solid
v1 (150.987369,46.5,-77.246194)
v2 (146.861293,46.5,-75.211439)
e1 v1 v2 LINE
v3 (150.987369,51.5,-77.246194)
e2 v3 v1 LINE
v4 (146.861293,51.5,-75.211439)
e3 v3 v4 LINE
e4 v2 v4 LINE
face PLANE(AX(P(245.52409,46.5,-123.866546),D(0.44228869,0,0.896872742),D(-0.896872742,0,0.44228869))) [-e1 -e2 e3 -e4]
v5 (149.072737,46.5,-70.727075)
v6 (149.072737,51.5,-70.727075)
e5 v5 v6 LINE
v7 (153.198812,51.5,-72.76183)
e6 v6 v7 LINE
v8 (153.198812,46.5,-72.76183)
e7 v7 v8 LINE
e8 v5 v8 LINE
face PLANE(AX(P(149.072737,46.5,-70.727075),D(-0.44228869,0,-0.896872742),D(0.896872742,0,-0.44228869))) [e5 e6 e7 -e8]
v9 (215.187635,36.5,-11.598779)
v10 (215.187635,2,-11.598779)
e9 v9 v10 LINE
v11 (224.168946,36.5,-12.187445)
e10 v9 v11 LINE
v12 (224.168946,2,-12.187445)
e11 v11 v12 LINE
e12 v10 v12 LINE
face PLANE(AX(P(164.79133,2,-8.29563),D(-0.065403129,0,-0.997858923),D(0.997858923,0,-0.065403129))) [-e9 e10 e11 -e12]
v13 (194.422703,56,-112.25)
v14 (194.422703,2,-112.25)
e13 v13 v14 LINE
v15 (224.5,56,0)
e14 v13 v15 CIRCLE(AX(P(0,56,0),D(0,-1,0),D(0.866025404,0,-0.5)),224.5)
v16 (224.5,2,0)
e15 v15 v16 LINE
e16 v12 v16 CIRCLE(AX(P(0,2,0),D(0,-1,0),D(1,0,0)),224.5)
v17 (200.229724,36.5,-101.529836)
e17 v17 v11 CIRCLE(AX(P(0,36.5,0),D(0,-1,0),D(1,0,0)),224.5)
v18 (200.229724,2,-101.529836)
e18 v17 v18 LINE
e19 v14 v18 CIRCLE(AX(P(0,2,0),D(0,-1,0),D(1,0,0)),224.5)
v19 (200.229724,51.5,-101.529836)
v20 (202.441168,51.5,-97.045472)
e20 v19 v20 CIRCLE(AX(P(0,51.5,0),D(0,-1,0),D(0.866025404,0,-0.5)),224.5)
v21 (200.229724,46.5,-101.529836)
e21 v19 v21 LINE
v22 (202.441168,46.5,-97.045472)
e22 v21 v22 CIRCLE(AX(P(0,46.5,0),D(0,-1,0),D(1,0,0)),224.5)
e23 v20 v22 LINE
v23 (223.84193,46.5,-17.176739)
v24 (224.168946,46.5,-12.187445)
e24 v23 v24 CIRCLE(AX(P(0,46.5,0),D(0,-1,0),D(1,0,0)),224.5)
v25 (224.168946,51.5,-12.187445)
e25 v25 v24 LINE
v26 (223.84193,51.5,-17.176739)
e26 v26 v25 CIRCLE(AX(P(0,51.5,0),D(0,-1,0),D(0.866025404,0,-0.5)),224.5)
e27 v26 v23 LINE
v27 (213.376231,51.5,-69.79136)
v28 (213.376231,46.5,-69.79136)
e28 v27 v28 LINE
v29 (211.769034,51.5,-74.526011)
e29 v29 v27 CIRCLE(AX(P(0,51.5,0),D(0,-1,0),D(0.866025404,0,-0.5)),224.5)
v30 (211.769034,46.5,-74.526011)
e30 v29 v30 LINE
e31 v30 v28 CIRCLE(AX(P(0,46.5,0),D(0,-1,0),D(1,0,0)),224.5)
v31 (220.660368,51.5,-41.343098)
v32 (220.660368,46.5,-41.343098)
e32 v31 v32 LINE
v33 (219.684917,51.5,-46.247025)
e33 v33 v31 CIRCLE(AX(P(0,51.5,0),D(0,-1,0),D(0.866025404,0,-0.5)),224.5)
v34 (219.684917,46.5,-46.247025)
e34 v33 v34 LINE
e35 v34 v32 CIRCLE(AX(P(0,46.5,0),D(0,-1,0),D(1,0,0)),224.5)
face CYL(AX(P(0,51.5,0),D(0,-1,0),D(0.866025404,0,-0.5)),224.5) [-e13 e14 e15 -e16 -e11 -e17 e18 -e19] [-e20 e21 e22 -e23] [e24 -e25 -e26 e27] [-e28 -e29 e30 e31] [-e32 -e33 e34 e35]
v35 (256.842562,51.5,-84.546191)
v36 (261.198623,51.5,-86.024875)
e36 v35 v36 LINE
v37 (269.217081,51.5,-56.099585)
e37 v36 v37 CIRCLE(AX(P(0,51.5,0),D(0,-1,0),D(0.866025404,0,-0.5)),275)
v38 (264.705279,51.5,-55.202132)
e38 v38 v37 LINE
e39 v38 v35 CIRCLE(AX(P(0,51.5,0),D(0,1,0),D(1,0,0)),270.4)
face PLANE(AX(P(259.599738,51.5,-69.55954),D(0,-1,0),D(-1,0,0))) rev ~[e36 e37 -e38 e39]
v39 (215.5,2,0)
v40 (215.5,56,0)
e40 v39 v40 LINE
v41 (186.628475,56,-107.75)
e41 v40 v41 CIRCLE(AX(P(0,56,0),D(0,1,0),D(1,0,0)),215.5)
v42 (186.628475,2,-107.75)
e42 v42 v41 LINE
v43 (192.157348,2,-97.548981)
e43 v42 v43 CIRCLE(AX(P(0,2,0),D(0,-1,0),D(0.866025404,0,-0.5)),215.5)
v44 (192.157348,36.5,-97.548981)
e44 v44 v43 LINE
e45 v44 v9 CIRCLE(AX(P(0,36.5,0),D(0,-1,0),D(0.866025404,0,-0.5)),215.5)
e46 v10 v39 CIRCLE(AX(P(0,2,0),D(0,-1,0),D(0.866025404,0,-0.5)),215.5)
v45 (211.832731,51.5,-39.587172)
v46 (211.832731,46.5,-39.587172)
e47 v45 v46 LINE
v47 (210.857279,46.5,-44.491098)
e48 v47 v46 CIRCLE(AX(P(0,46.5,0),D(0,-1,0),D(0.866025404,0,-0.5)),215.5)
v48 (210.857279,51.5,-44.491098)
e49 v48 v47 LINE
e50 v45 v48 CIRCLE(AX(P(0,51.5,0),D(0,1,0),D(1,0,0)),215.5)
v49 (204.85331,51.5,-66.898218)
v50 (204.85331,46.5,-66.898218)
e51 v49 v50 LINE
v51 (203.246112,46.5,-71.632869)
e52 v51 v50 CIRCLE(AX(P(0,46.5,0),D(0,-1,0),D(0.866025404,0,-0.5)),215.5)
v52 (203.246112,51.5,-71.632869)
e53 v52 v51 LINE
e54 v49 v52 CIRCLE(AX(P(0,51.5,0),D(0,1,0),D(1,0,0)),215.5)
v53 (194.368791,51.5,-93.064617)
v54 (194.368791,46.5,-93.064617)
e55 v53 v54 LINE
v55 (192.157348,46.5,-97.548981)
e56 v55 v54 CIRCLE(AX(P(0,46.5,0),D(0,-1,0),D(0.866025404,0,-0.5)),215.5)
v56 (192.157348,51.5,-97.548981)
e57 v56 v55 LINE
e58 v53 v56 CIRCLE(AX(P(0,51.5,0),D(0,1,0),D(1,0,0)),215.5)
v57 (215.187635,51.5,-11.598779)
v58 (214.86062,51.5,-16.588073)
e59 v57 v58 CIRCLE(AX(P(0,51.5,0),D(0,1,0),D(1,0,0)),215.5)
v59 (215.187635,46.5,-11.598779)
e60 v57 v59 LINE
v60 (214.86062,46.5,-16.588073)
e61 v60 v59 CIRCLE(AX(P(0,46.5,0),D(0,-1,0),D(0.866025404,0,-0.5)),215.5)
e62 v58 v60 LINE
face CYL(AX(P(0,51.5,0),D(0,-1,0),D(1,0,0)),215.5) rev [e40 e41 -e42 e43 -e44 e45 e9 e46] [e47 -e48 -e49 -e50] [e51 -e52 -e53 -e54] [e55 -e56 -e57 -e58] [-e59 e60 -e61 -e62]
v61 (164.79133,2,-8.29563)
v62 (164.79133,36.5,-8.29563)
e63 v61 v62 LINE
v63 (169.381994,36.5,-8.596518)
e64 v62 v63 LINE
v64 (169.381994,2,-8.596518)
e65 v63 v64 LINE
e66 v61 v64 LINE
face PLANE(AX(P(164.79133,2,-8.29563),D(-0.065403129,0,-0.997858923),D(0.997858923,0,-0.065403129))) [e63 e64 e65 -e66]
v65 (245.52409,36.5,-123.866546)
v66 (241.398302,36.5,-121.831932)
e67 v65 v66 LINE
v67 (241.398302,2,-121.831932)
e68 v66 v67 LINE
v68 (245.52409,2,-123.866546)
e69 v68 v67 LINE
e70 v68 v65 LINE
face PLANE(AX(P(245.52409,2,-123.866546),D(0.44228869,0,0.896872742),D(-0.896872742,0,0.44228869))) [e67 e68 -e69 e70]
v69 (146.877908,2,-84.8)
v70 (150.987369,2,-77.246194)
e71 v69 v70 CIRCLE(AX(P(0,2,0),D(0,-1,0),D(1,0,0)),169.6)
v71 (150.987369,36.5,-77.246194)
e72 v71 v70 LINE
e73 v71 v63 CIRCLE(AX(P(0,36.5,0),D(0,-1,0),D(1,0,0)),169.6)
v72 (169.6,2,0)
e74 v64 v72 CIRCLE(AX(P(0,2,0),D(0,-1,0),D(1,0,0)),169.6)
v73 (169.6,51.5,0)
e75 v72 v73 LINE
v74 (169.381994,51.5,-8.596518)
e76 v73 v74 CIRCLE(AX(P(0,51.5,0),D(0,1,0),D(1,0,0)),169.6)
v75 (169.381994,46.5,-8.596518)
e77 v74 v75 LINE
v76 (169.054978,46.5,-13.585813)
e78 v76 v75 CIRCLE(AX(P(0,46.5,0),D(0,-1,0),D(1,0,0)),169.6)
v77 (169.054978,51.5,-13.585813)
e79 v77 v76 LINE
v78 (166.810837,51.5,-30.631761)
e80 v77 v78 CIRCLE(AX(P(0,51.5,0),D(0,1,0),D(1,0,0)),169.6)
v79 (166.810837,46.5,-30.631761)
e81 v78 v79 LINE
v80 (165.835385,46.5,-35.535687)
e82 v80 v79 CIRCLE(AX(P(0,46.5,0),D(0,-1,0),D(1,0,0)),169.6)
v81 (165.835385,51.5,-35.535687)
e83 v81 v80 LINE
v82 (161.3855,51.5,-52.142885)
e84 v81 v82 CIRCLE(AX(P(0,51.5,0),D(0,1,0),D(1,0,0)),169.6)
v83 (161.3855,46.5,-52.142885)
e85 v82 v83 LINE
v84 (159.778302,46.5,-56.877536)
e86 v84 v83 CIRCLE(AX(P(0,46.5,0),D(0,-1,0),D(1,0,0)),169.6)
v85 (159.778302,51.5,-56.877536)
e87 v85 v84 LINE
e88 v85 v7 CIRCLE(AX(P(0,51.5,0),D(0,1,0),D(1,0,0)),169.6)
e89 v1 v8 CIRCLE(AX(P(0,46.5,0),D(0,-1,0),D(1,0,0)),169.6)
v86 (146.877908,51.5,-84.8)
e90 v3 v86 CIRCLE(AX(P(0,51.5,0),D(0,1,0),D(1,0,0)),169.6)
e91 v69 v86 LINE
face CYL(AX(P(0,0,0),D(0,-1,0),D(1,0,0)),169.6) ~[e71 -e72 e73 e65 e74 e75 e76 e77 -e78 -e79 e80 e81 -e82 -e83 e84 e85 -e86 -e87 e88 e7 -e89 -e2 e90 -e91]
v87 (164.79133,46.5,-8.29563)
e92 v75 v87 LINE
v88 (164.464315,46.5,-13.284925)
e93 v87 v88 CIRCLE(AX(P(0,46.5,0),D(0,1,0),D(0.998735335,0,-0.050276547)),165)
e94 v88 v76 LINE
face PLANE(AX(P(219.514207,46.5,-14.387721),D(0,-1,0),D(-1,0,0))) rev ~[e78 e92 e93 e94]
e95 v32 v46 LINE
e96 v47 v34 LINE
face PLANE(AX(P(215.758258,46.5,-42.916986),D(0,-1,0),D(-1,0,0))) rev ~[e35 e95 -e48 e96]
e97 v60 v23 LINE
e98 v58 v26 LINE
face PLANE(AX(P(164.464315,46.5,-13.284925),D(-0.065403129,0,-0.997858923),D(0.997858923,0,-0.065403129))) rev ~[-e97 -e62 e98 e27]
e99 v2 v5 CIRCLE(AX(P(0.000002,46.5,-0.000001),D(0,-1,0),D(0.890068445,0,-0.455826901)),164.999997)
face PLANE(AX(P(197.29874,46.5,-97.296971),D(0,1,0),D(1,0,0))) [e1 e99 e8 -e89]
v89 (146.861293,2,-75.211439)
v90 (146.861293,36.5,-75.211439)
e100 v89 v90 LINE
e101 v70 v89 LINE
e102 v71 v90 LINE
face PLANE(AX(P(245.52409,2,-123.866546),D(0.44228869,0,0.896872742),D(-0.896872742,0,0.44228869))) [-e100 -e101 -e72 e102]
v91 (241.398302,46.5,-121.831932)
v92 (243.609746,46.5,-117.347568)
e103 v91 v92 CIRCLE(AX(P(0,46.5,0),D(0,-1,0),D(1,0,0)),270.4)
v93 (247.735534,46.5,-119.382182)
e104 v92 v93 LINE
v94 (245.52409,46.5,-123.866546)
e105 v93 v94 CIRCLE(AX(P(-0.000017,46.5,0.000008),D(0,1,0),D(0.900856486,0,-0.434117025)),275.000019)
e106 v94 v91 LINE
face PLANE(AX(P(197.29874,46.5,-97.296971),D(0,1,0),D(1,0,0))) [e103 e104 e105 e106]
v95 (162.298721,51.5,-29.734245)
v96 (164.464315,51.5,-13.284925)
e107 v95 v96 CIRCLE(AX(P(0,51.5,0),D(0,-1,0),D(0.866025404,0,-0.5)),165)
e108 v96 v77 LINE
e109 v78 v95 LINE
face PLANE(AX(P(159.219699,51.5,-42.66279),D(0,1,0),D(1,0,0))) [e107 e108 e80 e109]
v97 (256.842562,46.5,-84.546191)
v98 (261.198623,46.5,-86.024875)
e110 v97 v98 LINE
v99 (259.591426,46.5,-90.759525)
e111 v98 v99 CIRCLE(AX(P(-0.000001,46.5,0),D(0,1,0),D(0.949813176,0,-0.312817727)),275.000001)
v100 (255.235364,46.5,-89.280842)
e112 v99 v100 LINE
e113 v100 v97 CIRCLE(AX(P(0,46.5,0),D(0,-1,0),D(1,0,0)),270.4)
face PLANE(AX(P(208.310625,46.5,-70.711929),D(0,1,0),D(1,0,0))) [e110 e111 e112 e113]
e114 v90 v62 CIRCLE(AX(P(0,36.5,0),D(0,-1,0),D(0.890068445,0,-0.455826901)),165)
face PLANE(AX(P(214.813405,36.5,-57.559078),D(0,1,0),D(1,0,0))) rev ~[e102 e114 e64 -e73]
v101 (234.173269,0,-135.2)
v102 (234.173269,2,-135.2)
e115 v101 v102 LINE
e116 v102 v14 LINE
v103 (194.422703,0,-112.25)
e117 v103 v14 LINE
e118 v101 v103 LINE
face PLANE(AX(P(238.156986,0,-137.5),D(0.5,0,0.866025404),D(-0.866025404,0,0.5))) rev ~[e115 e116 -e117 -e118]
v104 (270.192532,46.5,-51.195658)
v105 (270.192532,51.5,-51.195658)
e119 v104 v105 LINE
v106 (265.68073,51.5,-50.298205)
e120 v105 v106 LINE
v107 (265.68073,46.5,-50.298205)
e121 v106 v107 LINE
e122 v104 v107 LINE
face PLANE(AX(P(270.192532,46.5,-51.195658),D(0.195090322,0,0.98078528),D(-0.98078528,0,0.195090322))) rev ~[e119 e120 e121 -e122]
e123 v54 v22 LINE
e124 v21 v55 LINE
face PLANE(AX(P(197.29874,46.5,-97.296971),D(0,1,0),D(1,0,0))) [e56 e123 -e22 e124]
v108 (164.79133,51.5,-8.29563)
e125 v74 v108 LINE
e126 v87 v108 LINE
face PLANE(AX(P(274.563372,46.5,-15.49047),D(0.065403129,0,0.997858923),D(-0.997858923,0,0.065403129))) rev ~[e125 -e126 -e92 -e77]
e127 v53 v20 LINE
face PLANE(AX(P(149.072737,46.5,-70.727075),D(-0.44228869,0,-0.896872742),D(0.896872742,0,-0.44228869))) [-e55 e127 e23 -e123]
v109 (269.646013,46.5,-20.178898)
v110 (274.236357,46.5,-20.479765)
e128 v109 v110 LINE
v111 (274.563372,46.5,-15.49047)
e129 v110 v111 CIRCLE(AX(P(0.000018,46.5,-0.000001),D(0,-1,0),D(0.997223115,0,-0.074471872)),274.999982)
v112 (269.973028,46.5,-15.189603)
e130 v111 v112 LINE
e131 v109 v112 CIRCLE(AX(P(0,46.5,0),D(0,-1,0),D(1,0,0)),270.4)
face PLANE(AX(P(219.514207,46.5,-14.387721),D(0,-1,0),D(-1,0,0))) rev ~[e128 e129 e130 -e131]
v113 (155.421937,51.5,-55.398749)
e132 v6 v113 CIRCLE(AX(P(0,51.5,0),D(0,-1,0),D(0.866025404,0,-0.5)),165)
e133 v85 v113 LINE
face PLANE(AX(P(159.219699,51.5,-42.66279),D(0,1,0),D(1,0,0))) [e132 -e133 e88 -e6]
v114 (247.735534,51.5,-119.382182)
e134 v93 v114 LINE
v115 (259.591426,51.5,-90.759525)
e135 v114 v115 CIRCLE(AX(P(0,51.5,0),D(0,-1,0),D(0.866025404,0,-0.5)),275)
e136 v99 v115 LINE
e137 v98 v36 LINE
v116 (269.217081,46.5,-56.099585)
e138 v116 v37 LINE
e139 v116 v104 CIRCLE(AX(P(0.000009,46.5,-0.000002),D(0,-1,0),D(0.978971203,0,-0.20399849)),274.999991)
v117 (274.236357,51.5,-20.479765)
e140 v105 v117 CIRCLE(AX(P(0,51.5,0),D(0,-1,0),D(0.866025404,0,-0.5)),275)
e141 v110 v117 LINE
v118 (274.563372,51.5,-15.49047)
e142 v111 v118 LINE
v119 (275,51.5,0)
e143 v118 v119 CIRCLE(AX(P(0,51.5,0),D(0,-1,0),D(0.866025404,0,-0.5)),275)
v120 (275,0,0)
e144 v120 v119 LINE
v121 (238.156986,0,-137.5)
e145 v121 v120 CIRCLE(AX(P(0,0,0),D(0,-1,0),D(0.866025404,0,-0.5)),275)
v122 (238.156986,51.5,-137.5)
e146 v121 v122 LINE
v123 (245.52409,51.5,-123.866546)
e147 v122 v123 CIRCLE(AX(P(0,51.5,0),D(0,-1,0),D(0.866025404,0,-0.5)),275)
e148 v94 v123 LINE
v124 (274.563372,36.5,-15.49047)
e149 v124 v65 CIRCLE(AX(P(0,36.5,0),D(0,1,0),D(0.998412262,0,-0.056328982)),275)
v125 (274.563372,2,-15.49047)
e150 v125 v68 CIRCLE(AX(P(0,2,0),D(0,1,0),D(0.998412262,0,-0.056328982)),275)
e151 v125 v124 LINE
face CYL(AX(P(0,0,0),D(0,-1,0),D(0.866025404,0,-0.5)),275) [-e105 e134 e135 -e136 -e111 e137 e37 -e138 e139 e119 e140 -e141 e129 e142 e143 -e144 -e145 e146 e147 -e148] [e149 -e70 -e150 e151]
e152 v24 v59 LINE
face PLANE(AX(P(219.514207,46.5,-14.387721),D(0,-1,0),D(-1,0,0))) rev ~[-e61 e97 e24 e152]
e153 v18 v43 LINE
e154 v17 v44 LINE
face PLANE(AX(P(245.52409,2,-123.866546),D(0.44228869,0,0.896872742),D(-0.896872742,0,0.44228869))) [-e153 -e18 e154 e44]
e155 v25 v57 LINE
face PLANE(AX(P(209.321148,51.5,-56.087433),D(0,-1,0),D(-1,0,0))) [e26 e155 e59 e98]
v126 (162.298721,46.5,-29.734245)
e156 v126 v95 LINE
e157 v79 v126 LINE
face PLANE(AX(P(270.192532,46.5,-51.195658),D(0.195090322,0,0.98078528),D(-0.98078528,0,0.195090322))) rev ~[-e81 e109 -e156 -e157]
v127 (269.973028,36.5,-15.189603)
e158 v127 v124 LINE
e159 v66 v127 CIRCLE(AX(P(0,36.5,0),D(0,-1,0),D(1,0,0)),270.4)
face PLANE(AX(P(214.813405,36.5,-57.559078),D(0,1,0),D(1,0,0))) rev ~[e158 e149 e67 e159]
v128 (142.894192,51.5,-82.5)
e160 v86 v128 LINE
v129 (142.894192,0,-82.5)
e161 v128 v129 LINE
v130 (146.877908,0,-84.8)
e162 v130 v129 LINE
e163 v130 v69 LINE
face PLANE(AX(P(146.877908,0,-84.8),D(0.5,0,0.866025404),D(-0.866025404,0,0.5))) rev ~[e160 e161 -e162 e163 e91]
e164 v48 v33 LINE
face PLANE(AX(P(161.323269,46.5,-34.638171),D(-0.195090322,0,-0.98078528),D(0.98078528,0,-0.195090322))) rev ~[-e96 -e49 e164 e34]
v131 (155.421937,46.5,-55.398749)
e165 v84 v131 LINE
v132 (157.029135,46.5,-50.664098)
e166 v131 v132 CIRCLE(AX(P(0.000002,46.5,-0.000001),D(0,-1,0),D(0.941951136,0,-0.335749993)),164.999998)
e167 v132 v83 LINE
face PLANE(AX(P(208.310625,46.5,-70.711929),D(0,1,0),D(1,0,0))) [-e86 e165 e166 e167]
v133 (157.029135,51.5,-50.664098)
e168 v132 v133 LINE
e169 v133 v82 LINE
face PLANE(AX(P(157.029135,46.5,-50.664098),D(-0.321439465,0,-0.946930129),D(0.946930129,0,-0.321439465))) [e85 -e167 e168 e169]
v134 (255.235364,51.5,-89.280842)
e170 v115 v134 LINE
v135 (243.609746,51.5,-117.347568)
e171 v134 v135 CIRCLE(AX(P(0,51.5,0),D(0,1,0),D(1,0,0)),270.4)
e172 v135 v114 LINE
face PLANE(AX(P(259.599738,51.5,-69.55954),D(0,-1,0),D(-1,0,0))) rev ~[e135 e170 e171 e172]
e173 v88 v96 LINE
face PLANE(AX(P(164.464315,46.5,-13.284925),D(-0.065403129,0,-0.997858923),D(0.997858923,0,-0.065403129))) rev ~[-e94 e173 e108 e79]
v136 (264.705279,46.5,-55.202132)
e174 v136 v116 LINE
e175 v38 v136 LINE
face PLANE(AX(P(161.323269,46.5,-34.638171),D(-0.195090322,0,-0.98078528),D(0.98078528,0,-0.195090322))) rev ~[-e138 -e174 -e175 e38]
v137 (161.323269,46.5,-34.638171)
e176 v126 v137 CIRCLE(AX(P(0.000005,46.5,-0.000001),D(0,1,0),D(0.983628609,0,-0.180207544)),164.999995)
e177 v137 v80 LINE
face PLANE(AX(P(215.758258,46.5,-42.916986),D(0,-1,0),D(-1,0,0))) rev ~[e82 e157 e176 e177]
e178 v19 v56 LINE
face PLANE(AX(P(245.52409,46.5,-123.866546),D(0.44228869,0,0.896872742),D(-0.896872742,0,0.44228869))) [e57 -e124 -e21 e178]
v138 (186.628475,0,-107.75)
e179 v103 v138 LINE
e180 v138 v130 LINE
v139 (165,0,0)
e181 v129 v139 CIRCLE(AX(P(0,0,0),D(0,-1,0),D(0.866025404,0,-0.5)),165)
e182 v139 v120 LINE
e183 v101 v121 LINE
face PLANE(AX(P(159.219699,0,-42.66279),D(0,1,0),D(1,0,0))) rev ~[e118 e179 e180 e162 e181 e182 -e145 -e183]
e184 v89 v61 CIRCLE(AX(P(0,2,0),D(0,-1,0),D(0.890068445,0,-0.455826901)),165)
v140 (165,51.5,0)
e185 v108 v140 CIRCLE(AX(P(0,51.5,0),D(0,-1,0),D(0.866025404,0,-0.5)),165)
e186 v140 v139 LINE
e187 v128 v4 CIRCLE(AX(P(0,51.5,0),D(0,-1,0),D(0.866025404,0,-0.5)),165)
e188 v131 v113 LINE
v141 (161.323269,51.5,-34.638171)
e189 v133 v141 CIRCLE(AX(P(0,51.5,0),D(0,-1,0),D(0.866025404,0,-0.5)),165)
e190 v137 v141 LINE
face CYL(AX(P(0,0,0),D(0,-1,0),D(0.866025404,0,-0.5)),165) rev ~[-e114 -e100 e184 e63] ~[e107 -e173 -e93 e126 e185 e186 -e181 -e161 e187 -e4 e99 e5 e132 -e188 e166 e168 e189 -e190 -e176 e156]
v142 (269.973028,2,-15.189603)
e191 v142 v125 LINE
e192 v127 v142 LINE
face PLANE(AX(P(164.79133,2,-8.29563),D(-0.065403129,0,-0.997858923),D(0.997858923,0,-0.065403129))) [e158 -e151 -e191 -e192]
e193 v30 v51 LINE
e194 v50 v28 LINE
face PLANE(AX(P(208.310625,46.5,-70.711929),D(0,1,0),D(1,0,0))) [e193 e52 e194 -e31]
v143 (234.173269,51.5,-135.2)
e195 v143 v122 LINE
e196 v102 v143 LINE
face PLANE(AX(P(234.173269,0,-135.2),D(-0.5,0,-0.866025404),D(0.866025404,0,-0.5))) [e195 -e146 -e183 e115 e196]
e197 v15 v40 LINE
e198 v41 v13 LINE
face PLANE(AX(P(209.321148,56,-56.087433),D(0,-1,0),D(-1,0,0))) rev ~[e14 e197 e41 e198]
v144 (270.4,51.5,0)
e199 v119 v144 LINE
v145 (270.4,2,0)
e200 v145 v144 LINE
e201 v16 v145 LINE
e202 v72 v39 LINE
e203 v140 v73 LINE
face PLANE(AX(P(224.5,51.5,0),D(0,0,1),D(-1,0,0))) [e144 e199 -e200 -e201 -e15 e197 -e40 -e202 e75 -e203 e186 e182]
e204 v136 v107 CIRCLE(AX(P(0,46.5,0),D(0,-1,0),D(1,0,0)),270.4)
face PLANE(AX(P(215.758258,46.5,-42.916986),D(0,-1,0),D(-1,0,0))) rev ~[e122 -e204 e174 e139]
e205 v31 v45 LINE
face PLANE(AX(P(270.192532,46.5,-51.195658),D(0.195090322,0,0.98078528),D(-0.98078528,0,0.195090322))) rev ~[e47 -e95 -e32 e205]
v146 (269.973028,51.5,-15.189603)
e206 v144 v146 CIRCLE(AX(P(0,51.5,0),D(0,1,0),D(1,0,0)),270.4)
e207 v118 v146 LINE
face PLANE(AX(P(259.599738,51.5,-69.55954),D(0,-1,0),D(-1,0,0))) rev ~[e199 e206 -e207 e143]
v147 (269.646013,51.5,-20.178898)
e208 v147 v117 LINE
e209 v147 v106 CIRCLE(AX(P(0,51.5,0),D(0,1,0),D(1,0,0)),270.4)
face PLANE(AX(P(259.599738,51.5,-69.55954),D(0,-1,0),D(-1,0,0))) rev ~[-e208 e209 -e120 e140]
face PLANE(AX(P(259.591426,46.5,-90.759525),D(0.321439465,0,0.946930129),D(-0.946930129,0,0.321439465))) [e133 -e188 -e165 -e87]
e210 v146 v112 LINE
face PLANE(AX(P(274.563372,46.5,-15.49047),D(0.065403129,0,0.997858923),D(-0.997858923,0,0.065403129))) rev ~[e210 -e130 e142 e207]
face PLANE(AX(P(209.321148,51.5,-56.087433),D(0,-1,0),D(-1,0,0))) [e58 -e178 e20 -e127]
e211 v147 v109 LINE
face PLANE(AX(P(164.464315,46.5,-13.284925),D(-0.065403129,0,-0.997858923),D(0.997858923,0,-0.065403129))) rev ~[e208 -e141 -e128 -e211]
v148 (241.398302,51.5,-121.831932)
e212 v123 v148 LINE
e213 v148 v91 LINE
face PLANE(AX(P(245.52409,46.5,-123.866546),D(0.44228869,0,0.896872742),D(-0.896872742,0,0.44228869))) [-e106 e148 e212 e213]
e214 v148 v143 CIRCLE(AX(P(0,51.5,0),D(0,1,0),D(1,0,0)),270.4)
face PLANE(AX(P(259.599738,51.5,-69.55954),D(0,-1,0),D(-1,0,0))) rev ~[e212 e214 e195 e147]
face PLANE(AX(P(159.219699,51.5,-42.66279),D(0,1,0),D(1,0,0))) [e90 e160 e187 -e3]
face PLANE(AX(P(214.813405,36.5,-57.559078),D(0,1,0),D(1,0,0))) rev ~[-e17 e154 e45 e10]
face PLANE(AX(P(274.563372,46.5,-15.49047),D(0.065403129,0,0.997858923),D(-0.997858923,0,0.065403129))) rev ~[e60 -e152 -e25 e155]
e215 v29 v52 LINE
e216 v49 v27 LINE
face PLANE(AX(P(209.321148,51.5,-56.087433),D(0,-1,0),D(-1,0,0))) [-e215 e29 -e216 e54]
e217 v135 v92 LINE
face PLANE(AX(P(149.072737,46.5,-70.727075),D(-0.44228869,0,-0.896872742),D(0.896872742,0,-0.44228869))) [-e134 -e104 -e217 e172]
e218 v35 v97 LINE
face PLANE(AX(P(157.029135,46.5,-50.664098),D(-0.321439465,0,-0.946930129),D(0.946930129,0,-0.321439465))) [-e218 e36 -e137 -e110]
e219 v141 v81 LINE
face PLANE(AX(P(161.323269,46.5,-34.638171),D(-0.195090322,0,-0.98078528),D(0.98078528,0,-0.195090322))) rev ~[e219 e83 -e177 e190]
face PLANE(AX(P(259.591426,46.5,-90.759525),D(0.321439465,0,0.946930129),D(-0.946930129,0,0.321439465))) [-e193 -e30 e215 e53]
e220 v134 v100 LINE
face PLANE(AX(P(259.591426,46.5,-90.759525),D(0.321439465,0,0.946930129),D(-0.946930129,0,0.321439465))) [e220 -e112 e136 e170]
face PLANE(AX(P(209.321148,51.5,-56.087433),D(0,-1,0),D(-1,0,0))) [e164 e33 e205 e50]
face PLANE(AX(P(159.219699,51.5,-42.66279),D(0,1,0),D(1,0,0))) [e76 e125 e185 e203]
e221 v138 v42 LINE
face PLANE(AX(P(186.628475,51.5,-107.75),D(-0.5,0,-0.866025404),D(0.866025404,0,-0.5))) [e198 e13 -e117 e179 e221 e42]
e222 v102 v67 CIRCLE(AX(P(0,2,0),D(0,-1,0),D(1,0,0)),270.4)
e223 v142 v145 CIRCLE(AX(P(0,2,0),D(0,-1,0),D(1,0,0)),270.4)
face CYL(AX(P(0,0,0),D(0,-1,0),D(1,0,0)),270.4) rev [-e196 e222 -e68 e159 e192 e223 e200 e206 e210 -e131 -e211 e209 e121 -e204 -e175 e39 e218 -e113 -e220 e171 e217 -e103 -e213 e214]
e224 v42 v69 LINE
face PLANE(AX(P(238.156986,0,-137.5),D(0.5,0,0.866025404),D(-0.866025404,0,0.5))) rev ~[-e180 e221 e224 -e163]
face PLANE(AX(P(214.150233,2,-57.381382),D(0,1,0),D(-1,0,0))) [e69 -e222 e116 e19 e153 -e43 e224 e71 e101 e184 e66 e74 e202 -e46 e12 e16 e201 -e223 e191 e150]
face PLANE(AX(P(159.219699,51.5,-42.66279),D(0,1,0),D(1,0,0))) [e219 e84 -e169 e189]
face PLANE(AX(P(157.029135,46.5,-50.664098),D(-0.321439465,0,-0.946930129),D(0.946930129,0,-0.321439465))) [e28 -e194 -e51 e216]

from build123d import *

# Parameters (mm, degrees)
AUFSATZ_LINEAR_AUSTRAGEN1_DEPTH   = 51.5
AUFSATZ_LINEAR_AUSTRAGEN1_2_DEPTH = 51.5
AUFSATZ_LINEAR_AUSTRAGEN1_3_DEPTH = 51.5
SCHNITT_LINEAR_START              = -5
SCHNITT_LINEAR_AUSTRAGEN1_DEPTH   = 5
AUFSATZ_LINEAR_AUSTRAGEN2_DEPTH   = 2
SCHNITT_LINEAR_START_2            = -49.5
SCHNITT_LINEAR_AUSTRAGEN2_DEPTH   = 34.5
AUFSATZ_LINEAR_AUSTRAGEN3_DEPTH   = 4.5


with BuildPart() as part:
    # Skizze1 → Aufsatz-Linear austragen1 (new body)
    with BuildSketch(Plane(origin=(0, 0, 0), x_dir=(1, 0, 0), z_dir=(0, 1, 0))):
        with BuildLine():
            Line((165, 0), (169.6, 0))
            ThreePointArc((169.6, 0), (163.821020139, 43.895710049), (146.877908482, 84.8))
            Line((146.877908482, 84.8), (142.894191624, 82.5))
            ThreePointArc((142.894191624, 82.5), (159.377761338, 42.705142442), (165, 0))
        make_face()
    extrude(amount=AUFSATZ_LINEAR_AUSTRAGEN1_DEPTH)


with BuildPart() as body_2:
    # Skizze1 → Aufsatz-Linear austragen1 2 (new body)
    with BuildSketch(Plane(origin=(0, 0, 0), x_dir=(1, 0, 0), z_dir=(0, 1, 0))):
        with BuildLine():
            Line((215.5, 0), (224.5, 0))
            ThreePointArc((224.5, 0), (216.850348002, 58.104875626), (194.42270315, 112.25))
            Line((194.42270315, 112.25), (186.628474516, 107.75))
            ThreePointArc((186.628474516, 107.75), (208.157015565, 55.77550422), (215.5, 0))
        make_face()
    extrude(amount=AUFSATZ_LINEAR_AUSTRAGEN1_2_DEPTH)


with BuildPart() as body_3:
    # Skizze1 → Aufsatz-Linear austragen1 3 (new body)
    with BuildSketch(Plane(origin=(0, 0, 0), x_dir=(1, 0, 0), z_dir=(0, 1, 0))):
        with BuildLine():
            Line((234.173269183, 135.2), (238.156986041, 137.5))
            ThreePointArc((238.156986041, 137.5), (265.629602229, 71.175237403), (275, 0))
            Line((275, 0), (270.4, 0))
            ThreePointArc((270.4, 0), (261.186343429, 69.984669796), (234.173269183, 135.2))
        make_face()
    extrude(amount=AUFSATZ_LINEAR_AUSTRAGEN1_3_DEPTH)


with BuildPart() as schnitt_linear_austragen1_tool:
    # Skizze2 → Schnitt-Linear austragen1 (new body)
    with BuildSketch(Plane(origin=(0, 51.5, 0), x_dir=(1, 0, 0), z_dir=(0, 1, 0)).offset(SCHNITT_LINEAR_START)):
        with BuildLine():
            Line((164.464314583, 13.284924864), (274.236356527, 20.479764614))
            ThreePointArc((274.236356527, 20.479764614), (274.411203891, 17.985860538), (274.563372173, 15.490469997))
            Line((274.563372173, 15.490469997), (164.791330229, 8.295630248))
            ThreePointArc((164.791330229, 8.295630248), (164.646722334, 10.791516323), (164.464314583, 13.284924864))
        make_face()
        with BuildLine():
            Line((161.323268916, 34.638171229), (269.217080788, 56.099584774))
            ThreePointArc((269.217080788, 56.099584774), (269.715952111, 53.649838554), (270.192532398, 51.195658372))
            Line((270.192532398, 51.195658372), (162.298720527, 29.734244827))
            ThreePointArc((162.298720527, 29.734244827), (161.829571267, 32.189903133), (161.323268916, 34.638171229))
        make_face()
        with BuildLine():
            Line((157.029134718, 50.664098233), (261.198623482, 86.024874838))
            ThreePointArc((261.198623482, 86.024874838), (260.405785611, 88.395852958), (259.591426156, 90.759525485))
            Line((259.591426156, 90.759525485), (155.421937391, 55.398748881))
            ThreePointArc((155.421937391, 55.398748881), (156.243471367, 53.037511775), (157.029134718, 50.664098233))
        make_face()
        with BuildLine():
            Line((149.072736877, 70.727074872), (247.735533701, 119.382181845))
            ThreePointArc((247.735533701, 119.382181845), (246.640003921, 121.62938981), (245.52409025, 123.866545552))
            Line((245.52409025, 123.866545552), (146.861293426, 75.211438579))
            ThreePointArc((146.861293426, 75.211438579), (147.984002353, 72.977633886), (149.072736877, 70.727074872))
        make_face()
    extrude(amount=SCHNITT_LINEAR_AUSTRAGEN1_DEPTH)


with BuildPart() as part_1:
    add(part.part)

    # Schnitt-Linear austragen1: cut by schnitt_linear_austragen1_tool
    add(schnitt_linear_austragen1_tool.part, mode=Mode.SUBTRACT)



with BuildPart() as body_2_1:
    add(body_2.part)

    # Schnitt-Linear austragen1: cut by schnitt_linear_austragen1_tool
    add(schnitt_linear_austragen1_tool.part, mode=Mode.SUBTRACT)


with BuildPart() as body_3_1:
    add(body_3.part)

    # Schnitt-Linear austragen1: cut by schnitt_linear_austragen1_tool
    add(schnitt_linear_austragen1_tool.part, mode=Mode.SUBTRACT)


with BuildPart() as part_2:
    add(part_1.part)

    add(body_2_1.part)  # Aufsatz-Linear austragen2 merges body 2

    add(body_3_1.part)  # Aufsatz-Linear austragen2 merges body 3
    # Skizze4 → Aufsatz-Linear austragen2 (add)
    with BuildSketch(Plane.XZ):
        with BuildLine():
            Line((165, 0), (275, 0))
            ThreePointArc((275, 0), (265.629602229, -71.175237403), (238.156986041, -137.5))
            Line((238.156986041, -137.5), (142.894191624, -82.5))
            ThreePointArc((142.894191624, -82.5), (159.377761338, -42.705142442), (165, 0))
        make_face()
    extrude(amount=-AUFSATZ_LINEAR_AUSTRAGEN2_DEPTH)

    # Skizze5 → Schnitt-Linear austragen2 (cut)
    with BuildSketch(Plane(origin=(0, 51.5, 0), x_dir=(1, 0, 0), z_dir=(0, 1, 0)).offset(SCHNITT_LINEAR_START_2)):
        with BuildLine():
            Line((164.791330229, 8.295630248), (274.563372173, 15.490469997))
            ThreePointArc((274.563372173, 15.490469997), (265.629602229, 71.175237403), (245.52409025, 123.866545552))
            Line((245.52409025, 123.866545552), (146.861293426, 75.211438579))
            ThreePointArc((146.861293426, 75.211438579), (159.377761338, 42.705142442), (164.791330229, 8.295630248))
        make_face()
    extrude(amount=SCHNITT_LINEAR_AUSTRAGEN2_DEPTH, mode=Mode.SUBTRACT)

    # Skizze6 → Aufsatz-Linear austragen3 (add)
    with BuildSketch(Plane(origin=(0, 51.5, 0), x_dir=(1, 0, 0), z_dir=(0, 1, 0))):
        with BuildLine():
            Line((186.628474516, 107.75), (194.42270315, 112.25))
            ThreePointArc((194.42270315, 112.25), (216.850348002, 58.104875626), (224.5, 0))
            Line((224.5, 0), (215.5, 0))
            ThreePointArc((215.5, 0), (208.157015565, 55.77550422), (186.628474516, 107.75))
        make_face()
    extrude(amount=AUFSATZ_LINEAR_AUSTRAGEN3_DEPTH)


solid = part_2.part
